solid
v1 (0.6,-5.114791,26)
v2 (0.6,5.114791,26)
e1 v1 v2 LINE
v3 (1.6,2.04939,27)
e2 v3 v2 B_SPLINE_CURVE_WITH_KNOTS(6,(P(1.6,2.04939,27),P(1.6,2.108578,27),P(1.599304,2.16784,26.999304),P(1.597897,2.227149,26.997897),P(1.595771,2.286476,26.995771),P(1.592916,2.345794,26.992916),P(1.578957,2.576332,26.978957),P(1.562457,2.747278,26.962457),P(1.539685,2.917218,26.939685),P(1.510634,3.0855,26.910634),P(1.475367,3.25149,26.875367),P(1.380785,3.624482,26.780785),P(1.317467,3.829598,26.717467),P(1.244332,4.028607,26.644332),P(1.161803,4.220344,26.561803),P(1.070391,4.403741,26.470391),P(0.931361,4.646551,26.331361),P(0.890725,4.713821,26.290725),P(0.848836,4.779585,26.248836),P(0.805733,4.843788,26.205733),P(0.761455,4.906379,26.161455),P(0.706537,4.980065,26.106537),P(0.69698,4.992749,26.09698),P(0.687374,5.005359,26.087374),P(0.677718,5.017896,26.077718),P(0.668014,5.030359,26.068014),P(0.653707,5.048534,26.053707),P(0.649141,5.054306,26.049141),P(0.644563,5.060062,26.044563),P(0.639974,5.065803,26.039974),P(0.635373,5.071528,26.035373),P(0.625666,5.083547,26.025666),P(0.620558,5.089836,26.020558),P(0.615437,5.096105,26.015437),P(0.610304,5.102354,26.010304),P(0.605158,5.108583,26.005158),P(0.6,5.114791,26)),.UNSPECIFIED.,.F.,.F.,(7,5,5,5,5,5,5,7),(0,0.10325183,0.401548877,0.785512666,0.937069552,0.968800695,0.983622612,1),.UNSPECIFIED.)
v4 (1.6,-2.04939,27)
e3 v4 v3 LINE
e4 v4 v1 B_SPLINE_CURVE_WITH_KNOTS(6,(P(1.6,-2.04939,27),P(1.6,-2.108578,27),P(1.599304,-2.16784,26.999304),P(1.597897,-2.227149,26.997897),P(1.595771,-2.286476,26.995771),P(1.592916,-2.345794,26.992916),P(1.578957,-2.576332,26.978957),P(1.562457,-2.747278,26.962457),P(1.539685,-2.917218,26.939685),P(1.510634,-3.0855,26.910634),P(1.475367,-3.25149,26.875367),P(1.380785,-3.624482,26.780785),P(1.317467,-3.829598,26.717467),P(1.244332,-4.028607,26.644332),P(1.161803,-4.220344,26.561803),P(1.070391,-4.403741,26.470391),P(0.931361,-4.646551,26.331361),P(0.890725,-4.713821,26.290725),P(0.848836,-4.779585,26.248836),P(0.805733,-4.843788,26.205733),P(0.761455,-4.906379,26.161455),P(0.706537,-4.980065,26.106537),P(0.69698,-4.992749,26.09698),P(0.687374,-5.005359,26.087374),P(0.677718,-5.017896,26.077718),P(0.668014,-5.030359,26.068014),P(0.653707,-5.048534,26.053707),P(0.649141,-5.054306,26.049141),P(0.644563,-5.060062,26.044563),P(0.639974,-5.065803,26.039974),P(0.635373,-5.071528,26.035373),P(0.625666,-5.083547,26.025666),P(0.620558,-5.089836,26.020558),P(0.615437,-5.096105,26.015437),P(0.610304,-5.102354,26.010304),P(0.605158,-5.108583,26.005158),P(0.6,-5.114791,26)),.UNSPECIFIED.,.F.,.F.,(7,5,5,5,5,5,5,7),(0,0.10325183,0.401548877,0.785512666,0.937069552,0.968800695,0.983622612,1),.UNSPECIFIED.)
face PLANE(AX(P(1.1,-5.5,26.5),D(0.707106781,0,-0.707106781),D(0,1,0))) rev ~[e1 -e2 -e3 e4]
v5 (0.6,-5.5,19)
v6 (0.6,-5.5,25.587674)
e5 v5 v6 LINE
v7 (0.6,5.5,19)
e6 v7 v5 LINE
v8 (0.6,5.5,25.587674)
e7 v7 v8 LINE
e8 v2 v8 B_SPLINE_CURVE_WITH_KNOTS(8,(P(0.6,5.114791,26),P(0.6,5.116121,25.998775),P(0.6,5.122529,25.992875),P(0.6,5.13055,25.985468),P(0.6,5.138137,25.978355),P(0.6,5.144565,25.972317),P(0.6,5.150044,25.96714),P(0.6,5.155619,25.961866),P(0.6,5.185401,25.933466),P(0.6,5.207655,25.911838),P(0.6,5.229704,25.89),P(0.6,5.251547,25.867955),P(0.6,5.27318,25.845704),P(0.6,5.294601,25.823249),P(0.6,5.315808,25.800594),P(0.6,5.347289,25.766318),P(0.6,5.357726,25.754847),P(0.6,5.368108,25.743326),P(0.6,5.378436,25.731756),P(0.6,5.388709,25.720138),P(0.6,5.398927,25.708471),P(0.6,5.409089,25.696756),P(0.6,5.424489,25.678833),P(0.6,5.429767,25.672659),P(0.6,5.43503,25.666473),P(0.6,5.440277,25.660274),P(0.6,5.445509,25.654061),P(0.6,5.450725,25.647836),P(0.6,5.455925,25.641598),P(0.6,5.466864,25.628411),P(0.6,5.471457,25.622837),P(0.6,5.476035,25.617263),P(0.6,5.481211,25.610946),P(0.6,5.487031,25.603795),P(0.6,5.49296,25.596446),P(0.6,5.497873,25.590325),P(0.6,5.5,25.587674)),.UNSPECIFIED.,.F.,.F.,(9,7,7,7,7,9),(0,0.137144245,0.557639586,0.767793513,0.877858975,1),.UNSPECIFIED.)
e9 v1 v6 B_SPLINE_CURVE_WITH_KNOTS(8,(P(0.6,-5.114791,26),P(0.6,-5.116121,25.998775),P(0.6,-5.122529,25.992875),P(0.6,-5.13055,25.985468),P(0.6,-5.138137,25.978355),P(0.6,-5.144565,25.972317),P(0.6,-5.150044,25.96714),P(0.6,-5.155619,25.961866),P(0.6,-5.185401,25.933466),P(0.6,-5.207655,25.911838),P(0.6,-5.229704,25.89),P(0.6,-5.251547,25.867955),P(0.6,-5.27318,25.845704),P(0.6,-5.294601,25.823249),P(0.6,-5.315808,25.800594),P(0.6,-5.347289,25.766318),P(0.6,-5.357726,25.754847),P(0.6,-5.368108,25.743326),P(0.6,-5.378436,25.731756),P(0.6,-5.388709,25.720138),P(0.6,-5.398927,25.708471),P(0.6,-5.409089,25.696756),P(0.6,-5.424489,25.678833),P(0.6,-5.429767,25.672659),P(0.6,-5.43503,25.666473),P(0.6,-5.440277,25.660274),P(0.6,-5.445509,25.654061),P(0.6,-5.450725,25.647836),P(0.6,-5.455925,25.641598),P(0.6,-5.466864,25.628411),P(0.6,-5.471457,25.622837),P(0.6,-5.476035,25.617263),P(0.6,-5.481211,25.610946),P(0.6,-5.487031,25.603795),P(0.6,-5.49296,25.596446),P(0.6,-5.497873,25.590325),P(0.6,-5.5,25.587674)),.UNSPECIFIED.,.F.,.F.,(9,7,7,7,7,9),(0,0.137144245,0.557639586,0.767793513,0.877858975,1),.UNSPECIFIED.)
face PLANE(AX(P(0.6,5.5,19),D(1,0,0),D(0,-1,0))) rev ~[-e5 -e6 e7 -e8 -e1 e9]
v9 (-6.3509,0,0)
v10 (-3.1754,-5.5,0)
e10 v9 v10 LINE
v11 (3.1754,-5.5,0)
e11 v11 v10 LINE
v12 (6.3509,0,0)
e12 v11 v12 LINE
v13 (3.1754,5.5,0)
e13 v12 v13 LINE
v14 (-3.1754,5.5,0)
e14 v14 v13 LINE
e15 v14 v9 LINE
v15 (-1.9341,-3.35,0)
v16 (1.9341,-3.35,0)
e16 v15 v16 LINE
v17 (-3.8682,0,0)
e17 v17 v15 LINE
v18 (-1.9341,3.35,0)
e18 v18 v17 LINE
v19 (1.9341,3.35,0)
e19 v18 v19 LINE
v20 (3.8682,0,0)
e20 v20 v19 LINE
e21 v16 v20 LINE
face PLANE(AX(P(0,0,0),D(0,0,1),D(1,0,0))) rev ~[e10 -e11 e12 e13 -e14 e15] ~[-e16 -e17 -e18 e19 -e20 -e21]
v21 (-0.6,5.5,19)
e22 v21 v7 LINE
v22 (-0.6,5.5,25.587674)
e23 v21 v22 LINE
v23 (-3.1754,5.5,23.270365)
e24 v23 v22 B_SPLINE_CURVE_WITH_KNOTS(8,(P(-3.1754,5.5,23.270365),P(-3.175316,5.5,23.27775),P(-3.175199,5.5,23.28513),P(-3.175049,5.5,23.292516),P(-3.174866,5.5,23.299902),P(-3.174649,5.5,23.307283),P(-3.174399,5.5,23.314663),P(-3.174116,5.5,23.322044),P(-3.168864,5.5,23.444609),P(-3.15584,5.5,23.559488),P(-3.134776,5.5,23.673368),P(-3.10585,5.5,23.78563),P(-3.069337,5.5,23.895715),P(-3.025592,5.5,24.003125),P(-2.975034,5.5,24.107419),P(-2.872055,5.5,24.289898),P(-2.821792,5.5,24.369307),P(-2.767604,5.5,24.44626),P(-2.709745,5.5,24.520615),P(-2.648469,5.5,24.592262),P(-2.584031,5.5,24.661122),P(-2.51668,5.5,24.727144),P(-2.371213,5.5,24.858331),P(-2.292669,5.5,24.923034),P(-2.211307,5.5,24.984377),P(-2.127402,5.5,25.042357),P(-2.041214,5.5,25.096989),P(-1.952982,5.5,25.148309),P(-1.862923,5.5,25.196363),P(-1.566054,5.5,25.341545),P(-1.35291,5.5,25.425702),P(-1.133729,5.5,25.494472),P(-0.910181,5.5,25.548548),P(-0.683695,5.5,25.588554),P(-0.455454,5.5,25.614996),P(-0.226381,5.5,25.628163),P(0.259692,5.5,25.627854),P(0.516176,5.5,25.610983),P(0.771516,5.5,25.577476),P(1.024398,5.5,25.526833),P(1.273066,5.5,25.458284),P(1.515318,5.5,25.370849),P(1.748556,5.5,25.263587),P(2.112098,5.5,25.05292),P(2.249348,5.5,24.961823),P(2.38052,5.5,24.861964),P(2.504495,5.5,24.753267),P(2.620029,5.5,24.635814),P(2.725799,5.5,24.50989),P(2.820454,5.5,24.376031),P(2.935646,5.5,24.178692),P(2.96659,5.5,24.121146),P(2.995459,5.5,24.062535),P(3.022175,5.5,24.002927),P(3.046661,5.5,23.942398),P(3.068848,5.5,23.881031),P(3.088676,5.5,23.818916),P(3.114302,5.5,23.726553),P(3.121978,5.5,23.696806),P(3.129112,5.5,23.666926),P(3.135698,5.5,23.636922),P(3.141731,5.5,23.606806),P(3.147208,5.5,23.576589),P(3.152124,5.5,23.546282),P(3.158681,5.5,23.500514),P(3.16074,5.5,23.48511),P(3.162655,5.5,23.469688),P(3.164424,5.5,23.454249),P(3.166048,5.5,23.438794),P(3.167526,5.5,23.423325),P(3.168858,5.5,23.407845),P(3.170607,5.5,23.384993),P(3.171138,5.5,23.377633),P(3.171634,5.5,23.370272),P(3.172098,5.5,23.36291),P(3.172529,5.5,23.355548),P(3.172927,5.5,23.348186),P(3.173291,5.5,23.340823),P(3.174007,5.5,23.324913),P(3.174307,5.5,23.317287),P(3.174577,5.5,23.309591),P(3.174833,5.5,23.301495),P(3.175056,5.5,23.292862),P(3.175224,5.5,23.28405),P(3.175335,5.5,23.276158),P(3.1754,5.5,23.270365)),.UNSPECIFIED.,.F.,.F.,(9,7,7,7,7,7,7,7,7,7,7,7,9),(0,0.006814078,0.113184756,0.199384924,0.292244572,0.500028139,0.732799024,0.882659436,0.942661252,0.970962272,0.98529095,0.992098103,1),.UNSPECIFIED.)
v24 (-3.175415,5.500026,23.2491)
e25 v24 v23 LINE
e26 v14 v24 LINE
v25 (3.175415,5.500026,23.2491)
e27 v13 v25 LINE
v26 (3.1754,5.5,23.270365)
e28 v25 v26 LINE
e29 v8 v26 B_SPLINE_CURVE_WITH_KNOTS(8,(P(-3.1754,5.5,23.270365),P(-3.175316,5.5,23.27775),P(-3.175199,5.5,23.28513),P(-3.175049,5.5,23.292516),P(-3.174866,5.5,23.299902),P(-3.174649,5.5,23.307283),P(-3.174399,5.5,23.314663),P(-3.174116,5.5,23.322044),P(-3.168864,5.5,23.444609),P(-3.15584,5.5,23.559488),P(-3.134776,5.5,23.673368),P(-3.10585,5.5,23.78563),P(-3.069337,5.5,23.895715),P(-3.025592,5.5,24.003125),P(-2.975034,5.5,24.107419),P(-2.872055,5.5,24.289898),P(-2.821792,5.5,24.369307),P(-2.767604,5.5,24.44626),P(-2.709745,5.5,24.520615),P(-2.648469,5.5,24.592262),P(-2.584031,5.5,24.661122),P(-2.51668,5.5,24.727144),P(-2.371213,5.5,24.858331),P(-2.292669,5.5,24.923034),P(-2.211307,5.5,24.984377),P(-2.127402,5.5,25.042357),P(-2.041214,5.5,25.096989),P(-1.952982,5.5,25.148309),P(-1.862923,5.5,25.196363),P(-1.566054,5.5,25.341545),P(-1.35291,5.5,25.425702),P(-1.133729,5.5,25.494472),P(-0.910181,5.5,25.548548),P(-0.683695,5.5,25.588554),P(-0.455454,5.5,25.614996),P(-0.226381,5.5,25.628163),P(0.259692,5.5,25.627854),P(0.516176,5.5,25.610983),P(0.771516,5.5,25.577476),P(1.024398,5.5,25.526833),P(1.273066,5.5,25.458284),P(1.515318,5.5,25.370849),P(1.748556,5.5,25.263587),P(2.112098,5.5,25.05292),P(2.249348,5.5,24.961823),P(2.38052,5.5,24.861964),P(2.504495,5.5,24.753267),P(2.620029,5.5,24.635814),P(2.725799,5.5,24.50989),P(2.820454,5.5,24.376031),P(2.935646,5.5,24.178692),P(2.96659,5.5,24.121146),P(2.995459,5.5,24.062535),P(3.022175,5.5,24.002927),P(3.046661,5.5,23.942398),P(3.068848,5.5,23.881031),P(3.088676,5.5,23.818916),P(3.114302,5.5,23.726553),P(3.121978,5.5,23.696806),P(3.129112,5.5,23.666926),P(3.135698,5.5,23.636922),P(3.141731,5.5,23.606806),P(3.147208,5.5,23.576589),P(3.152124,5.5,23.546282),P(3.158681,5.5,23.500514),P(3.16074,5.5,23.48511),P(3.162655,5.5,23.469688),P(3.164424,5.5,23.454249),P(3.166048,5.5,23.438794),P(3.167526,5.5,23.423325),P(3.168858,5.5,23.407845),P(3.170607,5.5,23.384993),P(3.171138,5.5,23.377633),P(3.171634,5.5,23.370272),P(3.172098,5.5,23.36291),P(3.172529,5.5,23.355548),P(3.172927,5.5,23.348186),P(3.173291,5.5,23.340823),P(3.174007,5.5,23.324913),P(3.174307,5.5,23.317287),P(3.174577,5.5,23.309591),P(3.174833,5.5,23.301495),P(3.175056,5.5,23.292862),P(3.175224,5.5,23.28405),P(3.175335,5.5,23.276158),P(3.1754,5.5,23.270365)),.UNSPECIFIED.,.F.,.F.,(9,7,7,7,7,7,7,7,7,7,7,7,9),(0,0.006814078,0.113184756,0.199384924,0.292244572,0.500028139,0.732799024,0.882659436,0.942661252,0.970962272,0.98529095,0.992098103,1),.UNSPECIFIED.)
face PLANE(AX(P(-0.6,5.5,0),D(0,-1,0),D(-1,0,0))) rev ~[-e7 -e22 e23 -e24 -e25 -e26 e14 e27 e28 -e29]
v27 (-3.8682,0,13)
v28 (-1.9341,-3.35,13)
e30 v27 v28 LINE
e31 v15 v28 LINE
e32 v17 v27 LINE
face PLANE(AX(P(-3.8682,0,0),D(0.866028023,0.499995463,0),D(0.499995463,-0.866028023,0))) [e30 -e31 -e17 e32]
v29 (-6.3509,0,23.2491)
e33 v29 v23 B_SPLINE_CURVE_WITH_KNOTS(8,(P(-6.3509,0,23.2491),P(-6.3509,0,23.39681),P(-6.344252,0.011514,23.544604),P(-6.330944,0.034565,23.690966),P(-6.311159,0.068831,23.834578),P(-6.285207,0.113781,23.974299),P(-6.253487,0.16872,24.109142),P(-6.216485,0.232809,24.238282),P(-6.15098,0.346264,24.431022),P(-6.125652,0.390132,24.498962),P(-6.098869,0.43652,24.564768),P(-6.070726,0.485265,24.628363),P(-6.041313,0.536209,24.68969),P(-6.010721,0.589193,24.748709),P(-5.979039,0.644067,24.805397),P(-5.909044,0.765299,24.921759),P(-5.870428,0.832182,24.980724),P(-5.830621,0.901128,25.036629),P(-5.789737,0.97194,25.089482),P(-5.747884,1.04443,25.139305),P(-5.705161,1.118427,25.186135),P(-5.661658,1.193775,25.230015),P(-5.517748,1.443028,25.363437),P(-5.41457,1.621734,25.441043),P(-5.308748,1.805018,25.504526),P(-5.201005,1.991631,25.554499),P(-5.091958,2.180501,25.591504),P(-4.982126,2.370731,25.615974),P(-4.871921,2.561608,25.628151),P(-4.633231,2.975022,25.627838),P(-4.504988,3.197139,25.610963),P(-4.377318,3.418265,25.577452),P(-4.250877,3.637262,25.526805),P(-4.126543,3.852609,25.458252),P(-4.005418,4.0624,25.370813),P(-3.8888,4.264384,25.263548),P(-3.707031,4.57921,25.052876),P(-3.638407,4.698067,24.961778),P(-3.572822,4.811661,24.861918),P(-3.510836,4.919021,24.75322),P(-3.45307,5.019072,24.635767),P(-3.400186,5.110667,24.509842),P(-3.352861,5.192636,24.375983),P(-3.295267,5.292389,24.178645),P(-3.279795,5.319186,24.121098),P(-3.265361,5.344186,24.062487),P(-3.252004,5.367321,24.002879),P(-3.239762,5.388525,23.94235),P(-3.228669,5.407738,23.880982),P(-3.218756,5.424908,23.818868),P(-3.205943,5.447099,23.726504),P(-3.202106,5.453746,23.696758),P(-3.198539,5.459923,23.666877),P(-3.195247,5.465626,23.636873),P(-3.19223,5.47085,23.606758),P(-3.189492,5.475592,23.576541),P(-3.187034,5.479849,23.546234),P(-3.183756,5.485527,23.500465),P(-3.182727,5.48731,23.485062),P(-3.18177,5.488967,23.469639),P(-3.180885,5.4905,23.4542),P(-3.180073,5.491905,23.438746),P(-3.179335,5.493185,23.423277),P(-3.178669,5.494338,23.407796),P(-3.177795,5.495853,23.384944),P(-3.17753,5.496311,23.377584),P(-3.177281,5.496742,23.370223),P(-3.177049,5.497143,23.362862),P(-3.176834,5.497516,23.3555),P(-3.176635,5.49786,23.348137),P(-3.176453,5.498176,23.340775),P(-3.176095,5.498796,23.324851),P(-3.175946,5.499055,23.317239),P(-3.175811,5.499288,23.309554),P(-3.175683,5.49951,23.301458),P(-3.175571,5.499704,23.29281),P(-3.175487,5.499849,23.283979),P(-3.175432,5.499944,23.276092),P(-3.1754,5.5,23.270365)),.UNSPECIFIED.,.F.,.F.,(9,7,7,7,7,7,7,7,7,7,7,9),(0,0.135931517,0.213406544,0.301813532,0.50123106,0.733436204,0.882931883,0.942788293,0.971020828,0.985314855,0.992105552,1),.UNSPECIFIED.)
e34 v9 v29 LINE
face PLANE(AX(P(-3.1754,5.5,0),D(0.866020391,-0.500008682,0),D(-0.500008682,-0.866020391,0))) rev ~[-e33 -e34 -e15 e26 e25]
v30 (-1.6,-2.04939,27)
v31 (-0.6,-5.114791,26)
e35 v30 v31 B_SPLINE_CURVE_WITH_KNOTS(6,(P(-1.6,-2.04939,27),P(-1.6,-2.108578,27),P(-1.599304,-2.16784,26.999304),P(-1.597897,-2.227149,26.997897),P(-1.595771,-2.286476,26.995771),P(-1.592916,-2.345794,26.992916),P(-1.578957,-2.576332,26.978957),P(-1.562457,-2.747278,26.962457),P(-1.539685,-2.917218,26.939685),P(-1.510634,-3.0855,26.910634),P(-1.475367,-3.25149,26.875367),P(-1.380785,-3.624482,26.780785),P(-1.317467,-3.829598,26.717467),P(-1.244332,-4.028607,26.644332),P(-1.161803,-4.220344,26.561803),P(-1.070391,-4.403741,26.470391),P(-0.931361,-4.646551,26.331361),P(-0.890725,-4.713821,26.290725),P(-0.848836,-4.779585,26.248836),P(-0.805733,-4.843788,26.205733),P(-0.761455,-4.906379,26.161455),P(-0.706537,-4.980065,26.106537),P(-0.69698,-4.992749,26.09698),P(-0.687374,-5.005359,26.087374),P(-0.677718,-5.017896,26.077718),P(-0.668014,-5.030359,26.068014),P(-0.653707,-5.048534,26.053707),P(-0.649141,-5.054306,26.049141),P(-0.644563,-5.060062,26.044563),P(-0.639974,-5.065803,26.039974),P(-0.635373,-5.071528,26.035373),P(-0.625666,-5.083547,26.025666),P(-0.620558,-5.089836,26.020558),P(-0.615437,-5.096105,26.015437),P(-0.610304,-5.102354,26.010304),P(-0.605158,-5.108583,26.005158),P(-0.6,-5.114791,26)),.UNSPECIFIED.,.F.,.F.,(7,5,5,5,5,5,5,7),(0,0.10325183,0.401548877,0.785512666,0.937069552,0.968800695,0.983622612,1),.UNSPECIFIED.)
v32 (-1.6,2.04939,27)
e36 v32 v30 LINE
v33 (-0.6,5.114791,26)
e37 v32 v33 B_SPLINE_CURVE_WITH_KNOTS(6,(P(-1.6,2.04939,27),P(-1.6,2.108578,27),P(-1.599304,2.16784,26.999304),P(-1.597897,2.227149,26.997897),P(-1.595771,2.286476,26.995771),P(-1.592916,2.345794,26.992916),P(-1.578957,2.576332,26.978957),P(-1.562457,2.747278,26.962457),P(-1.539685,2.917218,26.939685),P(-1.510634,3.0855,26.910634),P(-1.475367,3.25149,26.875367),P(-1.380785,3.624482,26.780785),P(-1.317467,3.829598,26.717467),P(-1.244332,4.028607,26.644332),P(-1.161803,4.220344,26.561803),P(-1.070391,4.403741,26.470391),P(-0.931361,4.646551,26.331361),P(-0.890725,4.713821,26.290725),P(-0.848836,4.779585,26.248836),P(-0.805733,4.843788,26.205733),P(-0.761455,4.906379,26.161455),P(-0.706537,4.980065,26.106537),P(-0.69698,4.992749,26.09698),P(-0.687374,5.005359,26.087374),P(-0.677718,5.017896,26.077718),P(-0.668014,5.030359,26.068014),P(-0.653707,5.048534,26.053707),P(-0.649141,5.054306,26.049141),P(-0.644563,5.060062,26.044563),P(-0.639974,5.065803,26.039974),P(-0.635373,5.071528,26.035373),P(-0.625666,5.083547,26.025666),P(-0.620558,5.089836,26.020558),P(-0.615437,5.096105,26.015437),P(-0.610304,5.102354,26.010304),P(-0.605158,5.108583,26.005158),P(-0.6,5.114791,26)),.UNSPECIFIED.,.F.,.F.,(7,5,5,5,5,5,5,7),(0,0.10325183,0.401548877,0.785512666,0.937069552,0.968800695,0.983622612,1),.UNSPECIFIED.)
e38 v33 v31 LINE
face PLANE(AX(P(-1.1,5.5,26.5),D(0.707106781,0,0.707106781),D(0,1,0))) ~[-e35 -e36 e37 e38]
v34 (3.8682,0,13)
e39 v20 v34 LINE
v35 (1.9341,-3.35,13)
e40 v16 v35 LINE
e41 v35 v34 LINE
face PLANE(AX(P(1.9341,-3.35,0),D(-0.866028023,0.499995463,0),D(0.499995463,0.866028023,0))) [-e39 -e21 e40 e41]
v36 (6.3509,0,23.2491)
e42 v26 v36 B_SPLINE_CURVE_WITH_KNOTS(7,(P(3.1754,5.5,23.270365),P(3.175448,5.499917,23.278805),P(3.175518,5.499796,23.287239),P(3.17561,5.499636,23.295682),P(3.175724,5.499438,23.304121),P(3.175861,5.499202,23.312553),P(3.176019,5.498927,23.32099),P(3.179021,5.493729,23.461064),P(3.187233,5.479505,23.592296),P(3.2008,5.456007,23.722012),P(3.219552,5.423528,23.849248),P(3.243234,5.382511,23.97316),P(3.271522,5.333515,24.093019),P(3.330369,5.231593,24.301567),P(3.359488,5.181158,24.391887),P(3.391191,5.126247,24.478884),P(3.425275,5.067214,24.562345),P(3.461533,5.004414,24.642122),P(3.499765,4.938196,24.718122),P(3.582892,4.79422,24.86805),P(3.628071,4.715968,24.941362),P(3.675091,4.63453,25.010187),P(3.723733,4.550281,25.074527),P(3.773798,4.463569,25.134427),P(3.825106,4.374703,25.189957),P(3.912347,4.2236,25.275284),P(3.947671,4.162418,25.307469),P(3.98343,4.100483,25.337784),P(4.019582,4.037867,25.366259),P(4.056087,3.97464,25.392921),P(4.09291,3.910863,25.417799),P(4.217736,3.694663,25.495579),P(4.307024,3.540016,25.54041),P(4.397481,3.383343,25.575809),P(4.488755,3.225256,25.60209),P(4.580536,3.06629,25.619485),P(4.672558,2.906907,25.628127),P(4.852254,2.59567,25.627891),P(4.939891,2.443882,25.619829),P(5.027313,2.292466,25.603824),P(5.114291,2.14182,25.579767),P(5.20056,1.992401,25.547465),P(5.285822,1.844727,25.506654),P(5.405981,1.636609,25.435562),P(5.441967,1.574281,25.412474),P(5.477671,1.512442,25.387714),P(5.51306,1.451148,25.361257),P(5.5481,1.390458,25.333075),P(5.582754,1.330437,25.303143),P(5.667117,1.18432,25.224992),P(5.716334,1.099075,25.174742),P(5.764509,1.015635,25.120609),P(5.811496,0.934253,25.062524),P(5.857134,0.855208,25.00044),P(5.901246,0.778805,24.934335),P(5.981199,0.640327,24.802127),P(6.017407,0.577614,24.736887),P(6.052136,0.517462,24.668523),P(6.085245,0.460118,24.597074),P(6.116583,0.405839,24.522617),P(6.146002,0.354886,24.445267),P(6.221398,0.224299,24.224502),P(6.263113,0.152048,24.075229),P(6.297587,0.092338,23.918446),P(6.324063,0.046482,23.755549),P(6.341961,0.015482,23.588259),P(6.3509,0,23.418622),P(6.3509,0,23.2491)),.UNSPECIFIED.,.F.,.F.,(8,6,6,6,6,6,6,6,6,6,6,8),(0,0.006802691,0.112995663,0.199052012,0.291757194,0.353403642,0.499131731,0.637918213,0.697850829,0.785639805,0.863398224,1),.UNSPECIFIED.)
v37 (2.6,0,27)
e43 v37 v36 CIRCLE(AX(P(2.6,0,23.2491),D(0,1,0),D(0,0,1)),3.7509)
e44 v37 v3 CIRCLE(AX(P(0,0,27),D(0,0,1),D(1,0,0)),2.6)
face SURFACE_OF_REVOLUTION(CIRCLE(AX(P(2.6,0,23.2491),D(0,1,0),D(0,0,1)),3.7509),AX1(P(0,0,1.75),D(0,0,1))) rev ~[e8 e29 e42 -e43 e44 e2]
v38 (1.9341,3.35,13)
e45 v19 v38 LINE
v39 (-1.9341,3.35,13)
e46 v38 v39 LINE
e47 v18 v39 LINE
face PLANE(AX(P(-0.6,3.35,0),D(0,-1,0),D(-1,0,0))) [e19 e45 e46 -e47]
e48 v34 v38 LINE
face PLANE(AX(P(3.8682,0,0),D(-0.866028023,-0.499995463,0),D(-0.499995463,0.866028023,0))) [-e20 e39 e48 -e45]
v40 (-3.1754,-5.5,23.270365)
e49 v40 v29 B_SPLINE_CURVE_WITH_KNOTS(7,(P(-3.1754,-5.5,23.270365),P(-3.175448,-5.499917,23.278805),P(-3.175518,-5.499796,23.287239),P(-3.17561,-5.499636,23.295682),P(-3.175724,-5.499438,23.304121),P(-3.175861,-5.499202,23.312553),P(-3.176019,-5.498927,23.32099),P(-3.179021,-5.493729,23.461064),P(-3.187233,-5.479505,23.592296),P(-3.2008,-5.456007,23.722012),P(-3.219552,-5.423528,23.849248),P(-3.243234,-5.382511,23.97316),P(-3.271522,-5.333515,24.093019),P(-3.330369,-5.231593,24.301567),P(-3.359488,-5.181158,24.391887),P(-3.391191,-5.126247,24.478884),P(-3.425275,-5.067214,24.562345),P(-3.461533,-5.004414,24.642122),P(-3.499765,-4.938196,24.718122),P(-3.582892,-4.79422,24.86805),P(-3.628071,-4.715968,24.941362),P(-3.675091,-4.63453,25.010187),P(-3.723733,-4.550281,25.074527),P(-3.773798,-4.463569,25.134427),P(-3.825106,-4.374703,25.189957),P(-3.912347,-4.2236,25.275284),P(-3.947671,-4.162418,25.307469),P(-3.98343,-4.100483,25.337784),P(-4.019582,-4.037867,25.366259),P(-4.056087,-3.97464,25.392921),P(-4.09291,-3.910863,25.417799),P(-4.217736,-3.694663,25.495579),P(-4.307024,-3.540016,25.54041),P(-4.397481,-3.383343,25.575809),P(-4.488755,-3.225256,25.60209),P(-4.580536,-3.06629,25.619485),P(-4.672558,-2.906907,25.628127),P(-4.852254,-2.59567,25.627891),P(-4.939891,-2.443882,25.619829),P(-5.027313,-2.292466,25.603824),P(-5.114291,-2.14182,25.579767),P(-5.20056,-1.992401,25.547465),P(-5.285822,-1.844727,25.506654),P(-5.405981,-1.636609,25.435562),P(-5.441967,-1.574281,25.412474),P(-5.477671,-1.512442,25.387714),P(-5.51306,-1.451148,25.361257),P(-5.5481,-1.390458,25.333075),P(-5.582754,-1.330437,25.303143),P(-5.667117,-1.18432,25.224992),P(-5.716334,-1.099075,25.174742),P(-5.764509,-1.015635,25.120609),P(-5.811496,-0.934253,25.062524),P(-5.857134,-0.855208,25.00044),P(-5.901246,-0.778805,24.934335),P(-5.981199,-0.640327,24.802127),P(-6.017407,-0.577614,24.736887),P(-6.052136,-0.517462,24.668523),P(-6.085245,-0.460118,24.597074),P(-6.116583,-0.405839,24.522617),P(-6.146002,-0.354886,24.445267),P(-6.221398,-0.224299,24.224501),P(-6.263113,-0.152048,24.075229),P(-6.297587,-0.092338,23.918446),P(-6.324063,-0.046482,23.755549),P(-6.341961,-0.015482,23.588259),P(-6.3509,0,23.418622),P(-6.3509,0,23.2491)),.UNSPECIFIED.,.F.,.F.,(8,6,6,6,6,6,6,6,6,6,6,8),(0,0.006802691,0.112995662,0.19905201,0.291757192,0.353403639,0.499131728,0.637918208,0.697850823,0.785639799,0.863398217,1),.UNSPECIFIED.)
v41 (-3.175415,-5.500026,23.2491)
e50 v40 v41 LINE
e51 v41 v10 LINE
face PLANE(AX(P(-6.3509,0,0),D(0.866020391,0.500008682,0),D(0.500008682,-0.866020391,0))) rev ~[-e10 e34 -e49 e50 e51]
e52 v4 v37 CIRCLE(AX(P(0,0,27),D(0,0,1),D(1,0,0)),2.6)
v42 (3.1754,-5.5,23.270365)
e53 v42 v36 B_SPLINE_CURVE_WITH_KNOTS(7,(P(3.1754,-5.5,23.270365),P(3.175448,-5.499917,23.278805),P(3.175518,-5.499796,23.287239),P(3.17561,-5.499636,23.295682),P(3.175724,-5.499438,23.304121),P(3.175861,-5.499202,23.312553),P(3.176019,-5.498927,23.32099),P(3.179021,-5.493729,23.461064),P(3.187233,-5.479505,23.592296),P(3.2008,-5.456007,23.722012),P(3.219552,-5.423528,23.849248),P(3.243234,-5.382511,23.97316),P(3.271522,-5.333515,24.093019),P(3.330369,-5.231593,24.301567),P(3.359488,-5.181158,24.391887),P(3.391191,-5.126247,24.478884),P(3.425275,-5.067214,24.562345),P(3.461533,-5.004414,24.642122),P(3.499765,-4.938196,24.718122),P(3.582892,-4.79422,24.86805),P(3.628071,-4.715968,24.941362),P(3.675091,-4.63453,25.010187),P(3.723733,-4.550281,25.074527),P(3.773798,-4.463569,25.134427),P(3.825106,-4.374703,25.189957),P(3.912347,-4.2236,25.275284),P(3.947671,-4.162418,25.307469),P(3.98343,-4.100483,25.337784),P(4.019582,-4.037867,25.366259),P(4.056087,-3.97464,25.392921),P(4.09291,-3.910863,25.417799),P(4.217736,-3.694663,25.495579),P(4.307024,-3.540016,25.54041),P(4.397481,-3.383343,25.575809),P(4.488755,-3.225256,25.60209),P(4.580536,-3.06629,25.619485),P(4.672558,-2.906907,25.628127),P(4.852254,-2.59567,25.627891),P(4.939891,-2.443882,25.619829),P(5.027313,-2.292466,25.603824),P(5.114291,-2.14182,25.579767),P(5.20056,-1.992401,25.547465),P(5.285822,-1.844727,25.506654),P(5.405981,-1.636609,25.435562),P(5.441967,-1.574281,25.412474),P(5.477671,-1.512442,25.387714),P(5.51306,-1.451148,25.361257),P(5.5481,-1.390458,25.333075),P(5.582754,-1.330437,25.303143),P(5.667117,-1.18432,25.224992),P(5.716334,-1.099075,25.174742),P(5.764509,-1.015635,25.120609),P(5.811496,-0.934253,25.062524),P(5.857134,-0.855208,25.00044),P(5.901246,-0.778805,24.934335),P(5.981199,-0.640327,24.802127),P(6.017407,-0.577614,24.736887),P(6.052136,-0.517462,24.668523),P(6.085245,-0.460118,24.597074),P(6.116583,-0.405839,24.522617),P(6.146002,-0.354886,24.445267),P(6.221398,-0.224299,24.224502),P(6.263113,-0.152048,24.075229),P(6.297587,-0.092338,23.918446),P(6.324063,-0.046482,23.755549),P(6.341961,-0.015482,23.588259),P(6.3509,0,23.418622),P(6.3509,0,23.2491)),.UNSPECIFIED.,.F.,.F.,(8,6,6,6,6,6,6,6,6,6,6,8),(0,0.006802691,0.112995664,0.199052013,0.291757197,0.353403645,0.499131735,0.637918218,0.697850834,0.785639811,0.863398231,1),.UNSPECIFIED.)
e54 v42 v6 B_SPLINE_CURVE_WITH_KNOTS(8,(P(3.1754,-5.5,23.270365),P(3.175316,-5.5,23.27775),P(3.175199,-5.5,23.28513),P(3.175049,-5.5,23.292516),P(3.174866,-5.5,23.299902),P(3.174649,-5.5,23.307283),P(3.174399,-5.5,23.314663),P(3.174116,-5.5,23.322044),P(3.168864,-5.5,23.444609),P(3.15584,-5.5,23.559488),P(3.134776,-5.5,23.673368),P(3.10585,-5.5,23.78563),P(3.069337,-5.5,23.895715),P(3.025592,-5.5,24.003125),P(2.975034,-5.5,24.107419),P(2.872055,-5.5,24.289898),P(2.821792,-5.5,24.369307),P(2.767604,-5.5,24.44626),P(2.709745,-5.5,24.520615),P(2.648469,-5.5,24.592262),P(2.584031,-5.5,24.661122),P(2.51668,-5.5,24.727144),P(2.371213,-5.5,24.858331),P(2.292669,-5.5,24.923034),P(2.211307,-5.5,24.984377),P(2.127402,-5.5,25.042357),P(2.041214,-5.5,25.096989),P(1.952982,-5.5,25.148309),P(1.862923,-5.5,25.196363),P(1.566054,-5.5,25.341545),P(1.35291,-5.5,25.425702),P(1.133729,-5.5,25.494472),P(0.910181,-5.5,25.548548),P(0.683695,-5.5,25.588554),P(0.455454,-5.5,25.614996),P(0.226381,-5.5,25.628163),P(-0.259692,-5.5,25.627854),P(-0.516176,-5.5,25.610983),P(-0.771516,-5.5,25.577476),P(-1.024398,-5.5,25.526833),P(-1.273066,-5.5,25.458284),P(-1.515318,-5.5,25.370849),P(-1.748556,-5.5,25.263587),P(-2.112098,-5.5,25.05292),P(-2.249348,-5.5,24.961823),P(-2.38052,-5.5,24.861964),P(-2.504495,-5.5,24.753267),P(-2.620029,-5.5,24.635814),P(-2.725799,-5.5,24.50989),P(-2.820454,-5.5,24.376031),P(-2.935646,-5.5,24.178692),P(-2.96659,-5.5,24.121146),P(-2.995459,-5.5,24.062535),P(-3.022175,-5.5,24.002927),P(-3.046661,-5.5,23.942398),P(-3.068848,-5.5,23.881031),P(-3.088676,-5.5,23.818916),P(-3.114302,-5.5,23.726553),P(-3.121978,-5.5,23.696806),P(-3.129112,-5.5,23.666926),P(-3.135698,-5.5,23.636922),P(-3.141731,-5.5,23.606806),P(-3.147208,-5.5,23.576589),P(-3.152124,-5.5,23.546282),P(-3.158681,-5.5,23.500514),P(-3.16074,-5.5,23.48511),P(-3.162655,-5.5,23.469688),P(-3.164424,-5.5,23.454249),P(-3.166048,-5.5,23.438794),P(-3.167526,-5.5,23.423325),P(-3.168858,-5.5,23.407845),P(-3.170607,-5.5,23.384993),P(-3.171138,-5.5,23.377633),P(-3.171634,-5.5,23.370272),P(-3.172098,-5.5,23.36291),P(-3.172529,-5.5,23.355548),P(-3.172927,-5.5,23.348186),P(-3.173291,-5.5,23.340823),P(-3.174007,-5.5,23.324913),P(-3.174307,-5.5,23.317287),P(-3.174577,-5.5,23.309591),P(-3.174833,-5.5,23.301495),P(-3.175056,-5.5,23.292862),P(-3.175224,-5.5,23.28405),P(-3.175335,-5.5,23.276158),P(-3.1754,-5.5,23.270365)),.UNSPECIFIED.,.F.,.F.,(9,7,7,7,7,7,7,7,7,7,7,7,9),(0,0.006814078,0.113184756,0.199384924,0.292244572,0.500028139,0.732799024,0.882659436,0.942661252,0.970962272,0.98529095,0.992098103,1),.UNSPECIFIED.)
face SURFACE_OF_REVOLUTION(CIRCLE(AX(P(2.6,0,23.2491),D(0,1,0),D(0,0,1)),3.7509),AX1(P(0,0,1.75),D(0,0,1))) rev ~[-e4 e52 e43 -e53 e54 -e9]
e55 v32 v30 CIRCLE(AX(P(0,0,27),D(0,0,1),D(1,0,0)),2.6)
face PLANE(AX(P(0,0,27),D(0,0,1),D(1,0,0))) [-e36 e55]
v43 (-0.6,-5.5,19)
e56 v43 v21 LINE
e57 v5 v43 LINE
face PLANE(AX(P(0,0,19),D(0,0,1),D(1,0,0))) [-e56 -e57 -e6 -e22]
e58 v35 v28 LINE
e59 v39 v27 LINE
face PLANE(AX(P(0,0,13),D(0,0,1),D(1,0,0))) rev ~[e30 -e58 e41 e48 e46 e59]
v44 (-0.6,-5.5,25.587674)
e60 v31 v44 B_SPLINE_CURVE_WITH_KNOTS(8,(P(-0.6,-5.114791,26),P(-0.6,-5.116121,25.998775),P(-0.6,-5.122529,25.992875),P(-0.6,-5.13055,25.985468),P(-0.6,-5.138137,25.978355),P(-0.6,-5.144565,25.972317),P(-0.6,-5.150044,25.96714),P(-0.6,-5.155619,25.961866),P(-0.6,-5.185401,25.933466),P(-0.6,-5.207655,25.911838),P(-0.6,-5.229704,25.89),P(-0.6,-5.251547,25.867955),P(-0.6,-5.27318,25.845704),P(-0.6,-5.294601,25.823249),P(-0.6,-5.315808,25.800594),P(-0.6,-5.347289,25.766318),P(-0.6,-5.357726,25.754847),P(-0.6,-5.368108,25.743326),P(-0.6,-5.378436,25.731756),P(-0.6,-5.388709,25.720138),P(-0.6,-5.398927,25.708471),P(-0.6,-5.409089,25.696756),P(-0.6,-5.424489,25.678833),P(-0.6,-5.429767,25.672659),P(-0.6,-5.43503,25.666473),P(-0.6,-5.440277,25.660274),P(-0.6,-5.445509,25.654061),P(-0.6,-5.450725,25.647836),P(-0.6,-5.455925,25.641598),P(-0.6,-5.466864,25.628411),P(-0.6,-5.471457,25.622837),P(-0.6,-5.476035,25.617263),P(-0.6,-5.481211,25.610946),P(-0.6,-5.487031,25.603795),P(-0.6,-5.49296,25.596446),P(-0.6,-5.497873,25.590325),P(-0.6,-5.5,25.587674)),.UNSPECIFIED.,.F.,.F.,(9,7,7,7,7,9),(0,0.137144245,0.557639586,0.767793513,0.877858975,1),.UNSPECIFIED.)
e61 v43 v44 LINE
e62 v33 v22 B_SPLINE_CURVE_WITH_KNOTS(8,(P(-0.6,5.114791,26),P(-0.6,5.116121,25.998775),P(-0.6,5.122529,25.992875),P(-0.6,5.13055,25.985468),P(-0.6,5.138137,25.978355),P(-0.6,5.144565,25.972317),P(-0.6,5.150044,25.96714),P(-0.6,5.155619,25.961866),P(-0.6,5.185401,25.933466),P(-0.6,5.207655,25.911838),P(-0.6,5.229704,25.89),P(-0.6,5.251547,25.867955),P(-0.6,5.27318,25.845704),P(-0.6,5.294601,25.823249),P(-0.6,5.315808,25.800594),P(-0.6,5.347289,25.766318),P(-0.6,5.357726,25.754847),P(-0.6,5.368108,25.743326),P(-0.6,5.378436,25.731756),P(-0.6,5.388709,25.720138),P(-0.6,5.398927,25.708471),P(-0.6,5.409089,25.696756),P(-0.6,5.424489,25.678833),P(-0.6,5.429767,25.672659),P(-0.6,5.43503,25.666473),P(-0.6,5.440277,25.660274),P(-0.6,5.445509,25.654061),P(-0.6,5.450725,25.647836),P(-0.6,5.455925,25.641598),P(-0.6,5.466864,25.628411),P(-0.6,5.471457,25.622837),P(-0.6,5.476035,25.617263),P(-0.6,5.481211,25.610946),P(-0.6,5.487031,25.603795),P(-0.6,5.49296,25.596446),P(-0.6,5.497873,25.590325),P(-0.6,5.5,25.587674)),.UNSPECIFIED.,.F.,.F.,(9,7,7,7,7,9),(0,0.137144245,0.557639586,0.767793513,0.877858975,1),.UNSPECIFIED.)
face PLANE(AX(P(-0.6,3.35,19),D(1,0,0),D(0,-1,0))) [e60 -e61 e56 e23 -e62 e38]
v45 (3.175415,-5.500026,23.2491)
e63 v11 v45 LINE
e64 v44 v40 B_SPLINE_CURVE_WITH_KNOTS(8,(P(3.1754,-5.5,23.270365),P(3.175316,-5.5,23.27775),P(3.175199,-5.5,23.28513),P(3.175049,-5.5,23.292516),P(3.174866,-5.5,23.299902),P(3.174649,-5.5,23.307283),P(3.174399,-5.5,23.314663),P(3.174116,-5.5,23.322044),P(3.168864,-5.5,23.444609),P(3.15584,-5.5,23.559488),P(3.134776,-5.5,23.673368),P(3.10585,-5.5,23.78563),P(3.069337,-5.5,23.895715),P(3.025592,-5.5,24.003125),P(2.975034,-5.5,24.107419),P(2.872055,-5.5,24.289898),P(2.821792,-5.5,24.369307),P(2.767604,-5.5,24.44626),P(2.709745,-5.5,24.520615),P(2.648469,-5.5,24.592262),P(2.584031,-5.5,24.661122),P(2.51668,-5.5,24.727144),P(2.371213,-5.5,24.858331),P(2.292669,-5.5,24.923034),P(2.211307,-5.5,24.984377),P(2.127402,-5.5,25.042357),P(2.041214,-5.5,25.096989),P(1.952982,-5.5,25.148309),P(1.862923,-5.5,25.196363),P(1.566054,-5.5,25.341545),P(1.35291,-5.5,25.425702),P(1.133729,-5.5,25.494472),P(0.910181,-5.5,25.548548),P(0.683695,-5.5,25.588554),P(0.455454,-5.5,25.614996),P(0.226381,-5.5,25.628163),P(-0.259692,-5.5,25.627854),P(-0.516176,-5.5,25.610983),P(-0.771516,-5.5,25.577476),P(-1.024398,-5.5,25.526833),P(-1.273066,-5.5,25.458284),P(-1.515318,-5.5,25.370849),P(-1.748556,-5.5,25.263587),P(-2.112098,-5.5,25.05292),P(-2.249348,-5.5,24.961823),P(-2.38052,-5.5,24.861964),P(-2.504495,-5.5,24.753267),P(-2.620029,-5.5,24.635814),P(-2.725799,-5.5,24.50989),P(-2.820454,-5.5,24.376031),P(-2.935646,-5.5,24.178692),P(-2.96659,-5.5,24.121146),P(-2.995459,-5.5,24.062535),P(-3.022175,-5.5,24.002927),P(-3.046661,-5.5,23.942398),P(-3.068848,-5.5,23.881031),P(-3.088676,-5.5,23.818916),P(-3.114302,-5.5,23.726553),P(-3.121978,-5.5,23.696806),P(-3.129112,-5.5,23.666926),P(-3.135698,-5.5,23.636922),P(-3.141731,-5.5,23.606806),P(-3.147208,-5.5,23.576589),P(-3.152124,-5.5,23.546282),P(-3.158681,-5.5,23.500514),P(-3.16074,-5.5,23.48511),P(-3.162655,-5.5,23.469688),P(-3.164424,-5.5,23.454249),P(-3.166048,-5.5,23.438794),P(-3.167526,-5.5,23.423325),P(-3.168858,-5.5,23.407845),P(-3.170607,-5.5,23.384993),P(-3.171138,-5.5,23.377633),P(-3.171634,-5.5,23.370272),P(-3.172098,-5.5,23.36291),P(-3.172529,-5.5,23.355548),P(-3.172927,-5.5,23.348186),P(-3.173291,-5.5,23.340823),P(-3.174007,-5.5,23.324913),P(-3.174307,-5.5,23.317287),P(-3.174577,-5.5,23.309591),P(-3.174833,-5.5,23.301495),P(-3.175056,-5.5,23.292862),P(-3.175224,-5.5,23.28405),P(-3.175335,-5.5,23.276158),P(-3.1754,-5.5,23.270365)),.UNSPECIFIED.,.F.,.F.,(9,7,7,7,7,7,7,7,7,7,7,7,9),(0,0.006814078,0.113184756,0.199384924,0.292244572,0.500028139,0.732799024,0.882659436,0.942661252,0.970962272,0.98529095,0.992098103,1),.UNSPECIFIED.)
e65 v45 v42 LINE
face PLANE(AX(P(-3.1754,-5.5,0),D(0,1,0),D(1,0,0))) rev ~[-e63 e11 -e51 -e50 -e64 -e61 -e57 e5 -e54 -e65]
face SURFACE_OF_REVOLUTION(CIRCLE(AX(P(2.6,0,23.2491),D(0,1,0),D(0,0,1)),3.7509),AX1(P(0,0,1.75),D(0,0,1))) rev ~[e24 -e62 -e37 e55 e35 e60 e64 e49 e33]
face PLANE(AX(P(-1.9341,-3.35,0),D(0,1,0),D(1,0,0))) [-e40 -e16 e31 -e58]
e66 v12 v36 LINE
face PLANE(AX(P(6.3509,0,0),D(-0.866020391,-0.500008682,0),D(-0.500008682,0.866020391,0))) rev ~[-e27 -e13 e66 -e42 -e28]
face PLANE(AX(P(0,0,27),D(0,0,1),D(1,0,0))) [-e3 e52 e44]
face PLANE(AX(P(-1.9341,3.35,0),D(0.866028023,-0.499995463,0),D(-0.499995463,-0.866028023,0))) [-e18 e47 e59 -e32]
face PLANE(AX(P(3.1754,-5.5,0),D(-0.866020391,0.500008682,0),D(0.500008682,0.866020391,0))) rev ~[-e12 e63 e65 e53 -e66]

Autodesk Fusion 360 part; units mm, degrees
sketch "Sketch1" plane through (0, 0, 0) normal (0, 0, 1) x (1, 0, 0)
  line L0 (-1.9341, 3.35) -> (-3.8682, 0)
  line L1 (-3.8682, 0) -> (-1.9341, -3.35)
  line L2 (-1.9341, -3.35) -> (1.9341, -3.35)
  line L3 (1.9341, -3.35) -> (3.8682, 0)
  line L4 (3.8682, 0) -> (1.9341, 3.35)
  line L5 (1.9341, 3.35) -> (-1.9341, 3.35)
  line L6 (-0.6, 5.5) -> (-0.6, -5.5)
  line L7 (0, 2.5) -> (0, 20) construction
  line L8 (0.6, 5.5) -> (0.6, -5.5)
  line L9 (-6.3509, 0) -> (-3.1754, -5.5)
  line L10 (-3.1754, -5.5) -> (3.1754, -5.5)
  line L11 (3.1754, -5.5) -> (6.3509, 0)
  line L12 (6.3509, 0) -> (3.1754, 5.5)
  line L13 (3.1754, 5.5) -> (-3.1754, 5.5)
  line L14 (-3.1754, 5.5) -> (-6.3509, 0)
  dimension "d1" = 6.7
  dimension "d3" = 1.2
  dimension "d14" = 11
extrude "Extrude1" add sketch "Sketch1" along normal blind 13 contours L0 L1 L2 L5 L6 L9 L10 L13 L14 | L5 L6 L8 L13 | L2 L3 L4 L5 L8 L10 L11 L12 L13 | L2 L6 L8 L10
extrude "Extrude2" add sketch "Sketch1" along normal blind 6 from surface at 13
extrude "Extrude3" add sketch "Sketch1" along normal blind 8 from surface at 19 contours L0 L1 L2 L5 L6 | L0 L1 L2 L5 L6 L9 L10 L13 L14 | L2 L3 L4 L5 L8 L10 L11 L12 L13 | L2 L3 L4 L5 L8
chamfer "Chamfer1" distance 1 angle 45 2 edges at (0.6, 0, 27) (-0.6, 0, 27)
sketch "Sketch2" plane through (0, 0, 0) normal (0, 1, 0) x (1, 0, 0)
  line L0 (3.8682, -13) -> (-3.8682, -13)
  line L1 (-3.8682, -13) -> (-3.8682, 0)
  line L2 (-3.8682, 0) -> (-6.3509, 0)
  line L3 (-6.3509, 0) -> (-6.3509, -27)
  line L4 (-6.3509, -27) -> (-1.6, -27)
  line L5 (-1.6, -27) -> (-0.6, -26)
  line L6 (-0.6, -26) -> (-0.6, -19)
  line L7 (-0.6, -19) -> (0.6, -19)
  line L8 (0.6, -19) -> (0.6, -26)
  line L9 (0.6, -26) -> (1.6, -27)
  line L10 (1.6, -27) -> (6.3509, -27)
  line L11 (6.3509, -27) -> (6.3509, 0)
  line L12 (6.3509, 0) -> (3.8682, 0)
  line L13 (3.8682, 0) -> (3.8682, -13)
  line L14 (-1.6, -27) -> (1.6, -27) construction
  line L15 (0, -27) -> (0, -26.8393) construction
  arc A0 (2.6, -27) -> (6.3509, -23.2491) centre (2.6, -23.2491) ccw
  line L16 (3.1754, -27) -> (1.6, -27)
  dimension "d15" = 1
revolve "Revolve1" cut sketch "Sketch2" angle 360 about axis through (0, 0, 1.75) along (0, 0, 1) contours L10 L11 A0 L16
